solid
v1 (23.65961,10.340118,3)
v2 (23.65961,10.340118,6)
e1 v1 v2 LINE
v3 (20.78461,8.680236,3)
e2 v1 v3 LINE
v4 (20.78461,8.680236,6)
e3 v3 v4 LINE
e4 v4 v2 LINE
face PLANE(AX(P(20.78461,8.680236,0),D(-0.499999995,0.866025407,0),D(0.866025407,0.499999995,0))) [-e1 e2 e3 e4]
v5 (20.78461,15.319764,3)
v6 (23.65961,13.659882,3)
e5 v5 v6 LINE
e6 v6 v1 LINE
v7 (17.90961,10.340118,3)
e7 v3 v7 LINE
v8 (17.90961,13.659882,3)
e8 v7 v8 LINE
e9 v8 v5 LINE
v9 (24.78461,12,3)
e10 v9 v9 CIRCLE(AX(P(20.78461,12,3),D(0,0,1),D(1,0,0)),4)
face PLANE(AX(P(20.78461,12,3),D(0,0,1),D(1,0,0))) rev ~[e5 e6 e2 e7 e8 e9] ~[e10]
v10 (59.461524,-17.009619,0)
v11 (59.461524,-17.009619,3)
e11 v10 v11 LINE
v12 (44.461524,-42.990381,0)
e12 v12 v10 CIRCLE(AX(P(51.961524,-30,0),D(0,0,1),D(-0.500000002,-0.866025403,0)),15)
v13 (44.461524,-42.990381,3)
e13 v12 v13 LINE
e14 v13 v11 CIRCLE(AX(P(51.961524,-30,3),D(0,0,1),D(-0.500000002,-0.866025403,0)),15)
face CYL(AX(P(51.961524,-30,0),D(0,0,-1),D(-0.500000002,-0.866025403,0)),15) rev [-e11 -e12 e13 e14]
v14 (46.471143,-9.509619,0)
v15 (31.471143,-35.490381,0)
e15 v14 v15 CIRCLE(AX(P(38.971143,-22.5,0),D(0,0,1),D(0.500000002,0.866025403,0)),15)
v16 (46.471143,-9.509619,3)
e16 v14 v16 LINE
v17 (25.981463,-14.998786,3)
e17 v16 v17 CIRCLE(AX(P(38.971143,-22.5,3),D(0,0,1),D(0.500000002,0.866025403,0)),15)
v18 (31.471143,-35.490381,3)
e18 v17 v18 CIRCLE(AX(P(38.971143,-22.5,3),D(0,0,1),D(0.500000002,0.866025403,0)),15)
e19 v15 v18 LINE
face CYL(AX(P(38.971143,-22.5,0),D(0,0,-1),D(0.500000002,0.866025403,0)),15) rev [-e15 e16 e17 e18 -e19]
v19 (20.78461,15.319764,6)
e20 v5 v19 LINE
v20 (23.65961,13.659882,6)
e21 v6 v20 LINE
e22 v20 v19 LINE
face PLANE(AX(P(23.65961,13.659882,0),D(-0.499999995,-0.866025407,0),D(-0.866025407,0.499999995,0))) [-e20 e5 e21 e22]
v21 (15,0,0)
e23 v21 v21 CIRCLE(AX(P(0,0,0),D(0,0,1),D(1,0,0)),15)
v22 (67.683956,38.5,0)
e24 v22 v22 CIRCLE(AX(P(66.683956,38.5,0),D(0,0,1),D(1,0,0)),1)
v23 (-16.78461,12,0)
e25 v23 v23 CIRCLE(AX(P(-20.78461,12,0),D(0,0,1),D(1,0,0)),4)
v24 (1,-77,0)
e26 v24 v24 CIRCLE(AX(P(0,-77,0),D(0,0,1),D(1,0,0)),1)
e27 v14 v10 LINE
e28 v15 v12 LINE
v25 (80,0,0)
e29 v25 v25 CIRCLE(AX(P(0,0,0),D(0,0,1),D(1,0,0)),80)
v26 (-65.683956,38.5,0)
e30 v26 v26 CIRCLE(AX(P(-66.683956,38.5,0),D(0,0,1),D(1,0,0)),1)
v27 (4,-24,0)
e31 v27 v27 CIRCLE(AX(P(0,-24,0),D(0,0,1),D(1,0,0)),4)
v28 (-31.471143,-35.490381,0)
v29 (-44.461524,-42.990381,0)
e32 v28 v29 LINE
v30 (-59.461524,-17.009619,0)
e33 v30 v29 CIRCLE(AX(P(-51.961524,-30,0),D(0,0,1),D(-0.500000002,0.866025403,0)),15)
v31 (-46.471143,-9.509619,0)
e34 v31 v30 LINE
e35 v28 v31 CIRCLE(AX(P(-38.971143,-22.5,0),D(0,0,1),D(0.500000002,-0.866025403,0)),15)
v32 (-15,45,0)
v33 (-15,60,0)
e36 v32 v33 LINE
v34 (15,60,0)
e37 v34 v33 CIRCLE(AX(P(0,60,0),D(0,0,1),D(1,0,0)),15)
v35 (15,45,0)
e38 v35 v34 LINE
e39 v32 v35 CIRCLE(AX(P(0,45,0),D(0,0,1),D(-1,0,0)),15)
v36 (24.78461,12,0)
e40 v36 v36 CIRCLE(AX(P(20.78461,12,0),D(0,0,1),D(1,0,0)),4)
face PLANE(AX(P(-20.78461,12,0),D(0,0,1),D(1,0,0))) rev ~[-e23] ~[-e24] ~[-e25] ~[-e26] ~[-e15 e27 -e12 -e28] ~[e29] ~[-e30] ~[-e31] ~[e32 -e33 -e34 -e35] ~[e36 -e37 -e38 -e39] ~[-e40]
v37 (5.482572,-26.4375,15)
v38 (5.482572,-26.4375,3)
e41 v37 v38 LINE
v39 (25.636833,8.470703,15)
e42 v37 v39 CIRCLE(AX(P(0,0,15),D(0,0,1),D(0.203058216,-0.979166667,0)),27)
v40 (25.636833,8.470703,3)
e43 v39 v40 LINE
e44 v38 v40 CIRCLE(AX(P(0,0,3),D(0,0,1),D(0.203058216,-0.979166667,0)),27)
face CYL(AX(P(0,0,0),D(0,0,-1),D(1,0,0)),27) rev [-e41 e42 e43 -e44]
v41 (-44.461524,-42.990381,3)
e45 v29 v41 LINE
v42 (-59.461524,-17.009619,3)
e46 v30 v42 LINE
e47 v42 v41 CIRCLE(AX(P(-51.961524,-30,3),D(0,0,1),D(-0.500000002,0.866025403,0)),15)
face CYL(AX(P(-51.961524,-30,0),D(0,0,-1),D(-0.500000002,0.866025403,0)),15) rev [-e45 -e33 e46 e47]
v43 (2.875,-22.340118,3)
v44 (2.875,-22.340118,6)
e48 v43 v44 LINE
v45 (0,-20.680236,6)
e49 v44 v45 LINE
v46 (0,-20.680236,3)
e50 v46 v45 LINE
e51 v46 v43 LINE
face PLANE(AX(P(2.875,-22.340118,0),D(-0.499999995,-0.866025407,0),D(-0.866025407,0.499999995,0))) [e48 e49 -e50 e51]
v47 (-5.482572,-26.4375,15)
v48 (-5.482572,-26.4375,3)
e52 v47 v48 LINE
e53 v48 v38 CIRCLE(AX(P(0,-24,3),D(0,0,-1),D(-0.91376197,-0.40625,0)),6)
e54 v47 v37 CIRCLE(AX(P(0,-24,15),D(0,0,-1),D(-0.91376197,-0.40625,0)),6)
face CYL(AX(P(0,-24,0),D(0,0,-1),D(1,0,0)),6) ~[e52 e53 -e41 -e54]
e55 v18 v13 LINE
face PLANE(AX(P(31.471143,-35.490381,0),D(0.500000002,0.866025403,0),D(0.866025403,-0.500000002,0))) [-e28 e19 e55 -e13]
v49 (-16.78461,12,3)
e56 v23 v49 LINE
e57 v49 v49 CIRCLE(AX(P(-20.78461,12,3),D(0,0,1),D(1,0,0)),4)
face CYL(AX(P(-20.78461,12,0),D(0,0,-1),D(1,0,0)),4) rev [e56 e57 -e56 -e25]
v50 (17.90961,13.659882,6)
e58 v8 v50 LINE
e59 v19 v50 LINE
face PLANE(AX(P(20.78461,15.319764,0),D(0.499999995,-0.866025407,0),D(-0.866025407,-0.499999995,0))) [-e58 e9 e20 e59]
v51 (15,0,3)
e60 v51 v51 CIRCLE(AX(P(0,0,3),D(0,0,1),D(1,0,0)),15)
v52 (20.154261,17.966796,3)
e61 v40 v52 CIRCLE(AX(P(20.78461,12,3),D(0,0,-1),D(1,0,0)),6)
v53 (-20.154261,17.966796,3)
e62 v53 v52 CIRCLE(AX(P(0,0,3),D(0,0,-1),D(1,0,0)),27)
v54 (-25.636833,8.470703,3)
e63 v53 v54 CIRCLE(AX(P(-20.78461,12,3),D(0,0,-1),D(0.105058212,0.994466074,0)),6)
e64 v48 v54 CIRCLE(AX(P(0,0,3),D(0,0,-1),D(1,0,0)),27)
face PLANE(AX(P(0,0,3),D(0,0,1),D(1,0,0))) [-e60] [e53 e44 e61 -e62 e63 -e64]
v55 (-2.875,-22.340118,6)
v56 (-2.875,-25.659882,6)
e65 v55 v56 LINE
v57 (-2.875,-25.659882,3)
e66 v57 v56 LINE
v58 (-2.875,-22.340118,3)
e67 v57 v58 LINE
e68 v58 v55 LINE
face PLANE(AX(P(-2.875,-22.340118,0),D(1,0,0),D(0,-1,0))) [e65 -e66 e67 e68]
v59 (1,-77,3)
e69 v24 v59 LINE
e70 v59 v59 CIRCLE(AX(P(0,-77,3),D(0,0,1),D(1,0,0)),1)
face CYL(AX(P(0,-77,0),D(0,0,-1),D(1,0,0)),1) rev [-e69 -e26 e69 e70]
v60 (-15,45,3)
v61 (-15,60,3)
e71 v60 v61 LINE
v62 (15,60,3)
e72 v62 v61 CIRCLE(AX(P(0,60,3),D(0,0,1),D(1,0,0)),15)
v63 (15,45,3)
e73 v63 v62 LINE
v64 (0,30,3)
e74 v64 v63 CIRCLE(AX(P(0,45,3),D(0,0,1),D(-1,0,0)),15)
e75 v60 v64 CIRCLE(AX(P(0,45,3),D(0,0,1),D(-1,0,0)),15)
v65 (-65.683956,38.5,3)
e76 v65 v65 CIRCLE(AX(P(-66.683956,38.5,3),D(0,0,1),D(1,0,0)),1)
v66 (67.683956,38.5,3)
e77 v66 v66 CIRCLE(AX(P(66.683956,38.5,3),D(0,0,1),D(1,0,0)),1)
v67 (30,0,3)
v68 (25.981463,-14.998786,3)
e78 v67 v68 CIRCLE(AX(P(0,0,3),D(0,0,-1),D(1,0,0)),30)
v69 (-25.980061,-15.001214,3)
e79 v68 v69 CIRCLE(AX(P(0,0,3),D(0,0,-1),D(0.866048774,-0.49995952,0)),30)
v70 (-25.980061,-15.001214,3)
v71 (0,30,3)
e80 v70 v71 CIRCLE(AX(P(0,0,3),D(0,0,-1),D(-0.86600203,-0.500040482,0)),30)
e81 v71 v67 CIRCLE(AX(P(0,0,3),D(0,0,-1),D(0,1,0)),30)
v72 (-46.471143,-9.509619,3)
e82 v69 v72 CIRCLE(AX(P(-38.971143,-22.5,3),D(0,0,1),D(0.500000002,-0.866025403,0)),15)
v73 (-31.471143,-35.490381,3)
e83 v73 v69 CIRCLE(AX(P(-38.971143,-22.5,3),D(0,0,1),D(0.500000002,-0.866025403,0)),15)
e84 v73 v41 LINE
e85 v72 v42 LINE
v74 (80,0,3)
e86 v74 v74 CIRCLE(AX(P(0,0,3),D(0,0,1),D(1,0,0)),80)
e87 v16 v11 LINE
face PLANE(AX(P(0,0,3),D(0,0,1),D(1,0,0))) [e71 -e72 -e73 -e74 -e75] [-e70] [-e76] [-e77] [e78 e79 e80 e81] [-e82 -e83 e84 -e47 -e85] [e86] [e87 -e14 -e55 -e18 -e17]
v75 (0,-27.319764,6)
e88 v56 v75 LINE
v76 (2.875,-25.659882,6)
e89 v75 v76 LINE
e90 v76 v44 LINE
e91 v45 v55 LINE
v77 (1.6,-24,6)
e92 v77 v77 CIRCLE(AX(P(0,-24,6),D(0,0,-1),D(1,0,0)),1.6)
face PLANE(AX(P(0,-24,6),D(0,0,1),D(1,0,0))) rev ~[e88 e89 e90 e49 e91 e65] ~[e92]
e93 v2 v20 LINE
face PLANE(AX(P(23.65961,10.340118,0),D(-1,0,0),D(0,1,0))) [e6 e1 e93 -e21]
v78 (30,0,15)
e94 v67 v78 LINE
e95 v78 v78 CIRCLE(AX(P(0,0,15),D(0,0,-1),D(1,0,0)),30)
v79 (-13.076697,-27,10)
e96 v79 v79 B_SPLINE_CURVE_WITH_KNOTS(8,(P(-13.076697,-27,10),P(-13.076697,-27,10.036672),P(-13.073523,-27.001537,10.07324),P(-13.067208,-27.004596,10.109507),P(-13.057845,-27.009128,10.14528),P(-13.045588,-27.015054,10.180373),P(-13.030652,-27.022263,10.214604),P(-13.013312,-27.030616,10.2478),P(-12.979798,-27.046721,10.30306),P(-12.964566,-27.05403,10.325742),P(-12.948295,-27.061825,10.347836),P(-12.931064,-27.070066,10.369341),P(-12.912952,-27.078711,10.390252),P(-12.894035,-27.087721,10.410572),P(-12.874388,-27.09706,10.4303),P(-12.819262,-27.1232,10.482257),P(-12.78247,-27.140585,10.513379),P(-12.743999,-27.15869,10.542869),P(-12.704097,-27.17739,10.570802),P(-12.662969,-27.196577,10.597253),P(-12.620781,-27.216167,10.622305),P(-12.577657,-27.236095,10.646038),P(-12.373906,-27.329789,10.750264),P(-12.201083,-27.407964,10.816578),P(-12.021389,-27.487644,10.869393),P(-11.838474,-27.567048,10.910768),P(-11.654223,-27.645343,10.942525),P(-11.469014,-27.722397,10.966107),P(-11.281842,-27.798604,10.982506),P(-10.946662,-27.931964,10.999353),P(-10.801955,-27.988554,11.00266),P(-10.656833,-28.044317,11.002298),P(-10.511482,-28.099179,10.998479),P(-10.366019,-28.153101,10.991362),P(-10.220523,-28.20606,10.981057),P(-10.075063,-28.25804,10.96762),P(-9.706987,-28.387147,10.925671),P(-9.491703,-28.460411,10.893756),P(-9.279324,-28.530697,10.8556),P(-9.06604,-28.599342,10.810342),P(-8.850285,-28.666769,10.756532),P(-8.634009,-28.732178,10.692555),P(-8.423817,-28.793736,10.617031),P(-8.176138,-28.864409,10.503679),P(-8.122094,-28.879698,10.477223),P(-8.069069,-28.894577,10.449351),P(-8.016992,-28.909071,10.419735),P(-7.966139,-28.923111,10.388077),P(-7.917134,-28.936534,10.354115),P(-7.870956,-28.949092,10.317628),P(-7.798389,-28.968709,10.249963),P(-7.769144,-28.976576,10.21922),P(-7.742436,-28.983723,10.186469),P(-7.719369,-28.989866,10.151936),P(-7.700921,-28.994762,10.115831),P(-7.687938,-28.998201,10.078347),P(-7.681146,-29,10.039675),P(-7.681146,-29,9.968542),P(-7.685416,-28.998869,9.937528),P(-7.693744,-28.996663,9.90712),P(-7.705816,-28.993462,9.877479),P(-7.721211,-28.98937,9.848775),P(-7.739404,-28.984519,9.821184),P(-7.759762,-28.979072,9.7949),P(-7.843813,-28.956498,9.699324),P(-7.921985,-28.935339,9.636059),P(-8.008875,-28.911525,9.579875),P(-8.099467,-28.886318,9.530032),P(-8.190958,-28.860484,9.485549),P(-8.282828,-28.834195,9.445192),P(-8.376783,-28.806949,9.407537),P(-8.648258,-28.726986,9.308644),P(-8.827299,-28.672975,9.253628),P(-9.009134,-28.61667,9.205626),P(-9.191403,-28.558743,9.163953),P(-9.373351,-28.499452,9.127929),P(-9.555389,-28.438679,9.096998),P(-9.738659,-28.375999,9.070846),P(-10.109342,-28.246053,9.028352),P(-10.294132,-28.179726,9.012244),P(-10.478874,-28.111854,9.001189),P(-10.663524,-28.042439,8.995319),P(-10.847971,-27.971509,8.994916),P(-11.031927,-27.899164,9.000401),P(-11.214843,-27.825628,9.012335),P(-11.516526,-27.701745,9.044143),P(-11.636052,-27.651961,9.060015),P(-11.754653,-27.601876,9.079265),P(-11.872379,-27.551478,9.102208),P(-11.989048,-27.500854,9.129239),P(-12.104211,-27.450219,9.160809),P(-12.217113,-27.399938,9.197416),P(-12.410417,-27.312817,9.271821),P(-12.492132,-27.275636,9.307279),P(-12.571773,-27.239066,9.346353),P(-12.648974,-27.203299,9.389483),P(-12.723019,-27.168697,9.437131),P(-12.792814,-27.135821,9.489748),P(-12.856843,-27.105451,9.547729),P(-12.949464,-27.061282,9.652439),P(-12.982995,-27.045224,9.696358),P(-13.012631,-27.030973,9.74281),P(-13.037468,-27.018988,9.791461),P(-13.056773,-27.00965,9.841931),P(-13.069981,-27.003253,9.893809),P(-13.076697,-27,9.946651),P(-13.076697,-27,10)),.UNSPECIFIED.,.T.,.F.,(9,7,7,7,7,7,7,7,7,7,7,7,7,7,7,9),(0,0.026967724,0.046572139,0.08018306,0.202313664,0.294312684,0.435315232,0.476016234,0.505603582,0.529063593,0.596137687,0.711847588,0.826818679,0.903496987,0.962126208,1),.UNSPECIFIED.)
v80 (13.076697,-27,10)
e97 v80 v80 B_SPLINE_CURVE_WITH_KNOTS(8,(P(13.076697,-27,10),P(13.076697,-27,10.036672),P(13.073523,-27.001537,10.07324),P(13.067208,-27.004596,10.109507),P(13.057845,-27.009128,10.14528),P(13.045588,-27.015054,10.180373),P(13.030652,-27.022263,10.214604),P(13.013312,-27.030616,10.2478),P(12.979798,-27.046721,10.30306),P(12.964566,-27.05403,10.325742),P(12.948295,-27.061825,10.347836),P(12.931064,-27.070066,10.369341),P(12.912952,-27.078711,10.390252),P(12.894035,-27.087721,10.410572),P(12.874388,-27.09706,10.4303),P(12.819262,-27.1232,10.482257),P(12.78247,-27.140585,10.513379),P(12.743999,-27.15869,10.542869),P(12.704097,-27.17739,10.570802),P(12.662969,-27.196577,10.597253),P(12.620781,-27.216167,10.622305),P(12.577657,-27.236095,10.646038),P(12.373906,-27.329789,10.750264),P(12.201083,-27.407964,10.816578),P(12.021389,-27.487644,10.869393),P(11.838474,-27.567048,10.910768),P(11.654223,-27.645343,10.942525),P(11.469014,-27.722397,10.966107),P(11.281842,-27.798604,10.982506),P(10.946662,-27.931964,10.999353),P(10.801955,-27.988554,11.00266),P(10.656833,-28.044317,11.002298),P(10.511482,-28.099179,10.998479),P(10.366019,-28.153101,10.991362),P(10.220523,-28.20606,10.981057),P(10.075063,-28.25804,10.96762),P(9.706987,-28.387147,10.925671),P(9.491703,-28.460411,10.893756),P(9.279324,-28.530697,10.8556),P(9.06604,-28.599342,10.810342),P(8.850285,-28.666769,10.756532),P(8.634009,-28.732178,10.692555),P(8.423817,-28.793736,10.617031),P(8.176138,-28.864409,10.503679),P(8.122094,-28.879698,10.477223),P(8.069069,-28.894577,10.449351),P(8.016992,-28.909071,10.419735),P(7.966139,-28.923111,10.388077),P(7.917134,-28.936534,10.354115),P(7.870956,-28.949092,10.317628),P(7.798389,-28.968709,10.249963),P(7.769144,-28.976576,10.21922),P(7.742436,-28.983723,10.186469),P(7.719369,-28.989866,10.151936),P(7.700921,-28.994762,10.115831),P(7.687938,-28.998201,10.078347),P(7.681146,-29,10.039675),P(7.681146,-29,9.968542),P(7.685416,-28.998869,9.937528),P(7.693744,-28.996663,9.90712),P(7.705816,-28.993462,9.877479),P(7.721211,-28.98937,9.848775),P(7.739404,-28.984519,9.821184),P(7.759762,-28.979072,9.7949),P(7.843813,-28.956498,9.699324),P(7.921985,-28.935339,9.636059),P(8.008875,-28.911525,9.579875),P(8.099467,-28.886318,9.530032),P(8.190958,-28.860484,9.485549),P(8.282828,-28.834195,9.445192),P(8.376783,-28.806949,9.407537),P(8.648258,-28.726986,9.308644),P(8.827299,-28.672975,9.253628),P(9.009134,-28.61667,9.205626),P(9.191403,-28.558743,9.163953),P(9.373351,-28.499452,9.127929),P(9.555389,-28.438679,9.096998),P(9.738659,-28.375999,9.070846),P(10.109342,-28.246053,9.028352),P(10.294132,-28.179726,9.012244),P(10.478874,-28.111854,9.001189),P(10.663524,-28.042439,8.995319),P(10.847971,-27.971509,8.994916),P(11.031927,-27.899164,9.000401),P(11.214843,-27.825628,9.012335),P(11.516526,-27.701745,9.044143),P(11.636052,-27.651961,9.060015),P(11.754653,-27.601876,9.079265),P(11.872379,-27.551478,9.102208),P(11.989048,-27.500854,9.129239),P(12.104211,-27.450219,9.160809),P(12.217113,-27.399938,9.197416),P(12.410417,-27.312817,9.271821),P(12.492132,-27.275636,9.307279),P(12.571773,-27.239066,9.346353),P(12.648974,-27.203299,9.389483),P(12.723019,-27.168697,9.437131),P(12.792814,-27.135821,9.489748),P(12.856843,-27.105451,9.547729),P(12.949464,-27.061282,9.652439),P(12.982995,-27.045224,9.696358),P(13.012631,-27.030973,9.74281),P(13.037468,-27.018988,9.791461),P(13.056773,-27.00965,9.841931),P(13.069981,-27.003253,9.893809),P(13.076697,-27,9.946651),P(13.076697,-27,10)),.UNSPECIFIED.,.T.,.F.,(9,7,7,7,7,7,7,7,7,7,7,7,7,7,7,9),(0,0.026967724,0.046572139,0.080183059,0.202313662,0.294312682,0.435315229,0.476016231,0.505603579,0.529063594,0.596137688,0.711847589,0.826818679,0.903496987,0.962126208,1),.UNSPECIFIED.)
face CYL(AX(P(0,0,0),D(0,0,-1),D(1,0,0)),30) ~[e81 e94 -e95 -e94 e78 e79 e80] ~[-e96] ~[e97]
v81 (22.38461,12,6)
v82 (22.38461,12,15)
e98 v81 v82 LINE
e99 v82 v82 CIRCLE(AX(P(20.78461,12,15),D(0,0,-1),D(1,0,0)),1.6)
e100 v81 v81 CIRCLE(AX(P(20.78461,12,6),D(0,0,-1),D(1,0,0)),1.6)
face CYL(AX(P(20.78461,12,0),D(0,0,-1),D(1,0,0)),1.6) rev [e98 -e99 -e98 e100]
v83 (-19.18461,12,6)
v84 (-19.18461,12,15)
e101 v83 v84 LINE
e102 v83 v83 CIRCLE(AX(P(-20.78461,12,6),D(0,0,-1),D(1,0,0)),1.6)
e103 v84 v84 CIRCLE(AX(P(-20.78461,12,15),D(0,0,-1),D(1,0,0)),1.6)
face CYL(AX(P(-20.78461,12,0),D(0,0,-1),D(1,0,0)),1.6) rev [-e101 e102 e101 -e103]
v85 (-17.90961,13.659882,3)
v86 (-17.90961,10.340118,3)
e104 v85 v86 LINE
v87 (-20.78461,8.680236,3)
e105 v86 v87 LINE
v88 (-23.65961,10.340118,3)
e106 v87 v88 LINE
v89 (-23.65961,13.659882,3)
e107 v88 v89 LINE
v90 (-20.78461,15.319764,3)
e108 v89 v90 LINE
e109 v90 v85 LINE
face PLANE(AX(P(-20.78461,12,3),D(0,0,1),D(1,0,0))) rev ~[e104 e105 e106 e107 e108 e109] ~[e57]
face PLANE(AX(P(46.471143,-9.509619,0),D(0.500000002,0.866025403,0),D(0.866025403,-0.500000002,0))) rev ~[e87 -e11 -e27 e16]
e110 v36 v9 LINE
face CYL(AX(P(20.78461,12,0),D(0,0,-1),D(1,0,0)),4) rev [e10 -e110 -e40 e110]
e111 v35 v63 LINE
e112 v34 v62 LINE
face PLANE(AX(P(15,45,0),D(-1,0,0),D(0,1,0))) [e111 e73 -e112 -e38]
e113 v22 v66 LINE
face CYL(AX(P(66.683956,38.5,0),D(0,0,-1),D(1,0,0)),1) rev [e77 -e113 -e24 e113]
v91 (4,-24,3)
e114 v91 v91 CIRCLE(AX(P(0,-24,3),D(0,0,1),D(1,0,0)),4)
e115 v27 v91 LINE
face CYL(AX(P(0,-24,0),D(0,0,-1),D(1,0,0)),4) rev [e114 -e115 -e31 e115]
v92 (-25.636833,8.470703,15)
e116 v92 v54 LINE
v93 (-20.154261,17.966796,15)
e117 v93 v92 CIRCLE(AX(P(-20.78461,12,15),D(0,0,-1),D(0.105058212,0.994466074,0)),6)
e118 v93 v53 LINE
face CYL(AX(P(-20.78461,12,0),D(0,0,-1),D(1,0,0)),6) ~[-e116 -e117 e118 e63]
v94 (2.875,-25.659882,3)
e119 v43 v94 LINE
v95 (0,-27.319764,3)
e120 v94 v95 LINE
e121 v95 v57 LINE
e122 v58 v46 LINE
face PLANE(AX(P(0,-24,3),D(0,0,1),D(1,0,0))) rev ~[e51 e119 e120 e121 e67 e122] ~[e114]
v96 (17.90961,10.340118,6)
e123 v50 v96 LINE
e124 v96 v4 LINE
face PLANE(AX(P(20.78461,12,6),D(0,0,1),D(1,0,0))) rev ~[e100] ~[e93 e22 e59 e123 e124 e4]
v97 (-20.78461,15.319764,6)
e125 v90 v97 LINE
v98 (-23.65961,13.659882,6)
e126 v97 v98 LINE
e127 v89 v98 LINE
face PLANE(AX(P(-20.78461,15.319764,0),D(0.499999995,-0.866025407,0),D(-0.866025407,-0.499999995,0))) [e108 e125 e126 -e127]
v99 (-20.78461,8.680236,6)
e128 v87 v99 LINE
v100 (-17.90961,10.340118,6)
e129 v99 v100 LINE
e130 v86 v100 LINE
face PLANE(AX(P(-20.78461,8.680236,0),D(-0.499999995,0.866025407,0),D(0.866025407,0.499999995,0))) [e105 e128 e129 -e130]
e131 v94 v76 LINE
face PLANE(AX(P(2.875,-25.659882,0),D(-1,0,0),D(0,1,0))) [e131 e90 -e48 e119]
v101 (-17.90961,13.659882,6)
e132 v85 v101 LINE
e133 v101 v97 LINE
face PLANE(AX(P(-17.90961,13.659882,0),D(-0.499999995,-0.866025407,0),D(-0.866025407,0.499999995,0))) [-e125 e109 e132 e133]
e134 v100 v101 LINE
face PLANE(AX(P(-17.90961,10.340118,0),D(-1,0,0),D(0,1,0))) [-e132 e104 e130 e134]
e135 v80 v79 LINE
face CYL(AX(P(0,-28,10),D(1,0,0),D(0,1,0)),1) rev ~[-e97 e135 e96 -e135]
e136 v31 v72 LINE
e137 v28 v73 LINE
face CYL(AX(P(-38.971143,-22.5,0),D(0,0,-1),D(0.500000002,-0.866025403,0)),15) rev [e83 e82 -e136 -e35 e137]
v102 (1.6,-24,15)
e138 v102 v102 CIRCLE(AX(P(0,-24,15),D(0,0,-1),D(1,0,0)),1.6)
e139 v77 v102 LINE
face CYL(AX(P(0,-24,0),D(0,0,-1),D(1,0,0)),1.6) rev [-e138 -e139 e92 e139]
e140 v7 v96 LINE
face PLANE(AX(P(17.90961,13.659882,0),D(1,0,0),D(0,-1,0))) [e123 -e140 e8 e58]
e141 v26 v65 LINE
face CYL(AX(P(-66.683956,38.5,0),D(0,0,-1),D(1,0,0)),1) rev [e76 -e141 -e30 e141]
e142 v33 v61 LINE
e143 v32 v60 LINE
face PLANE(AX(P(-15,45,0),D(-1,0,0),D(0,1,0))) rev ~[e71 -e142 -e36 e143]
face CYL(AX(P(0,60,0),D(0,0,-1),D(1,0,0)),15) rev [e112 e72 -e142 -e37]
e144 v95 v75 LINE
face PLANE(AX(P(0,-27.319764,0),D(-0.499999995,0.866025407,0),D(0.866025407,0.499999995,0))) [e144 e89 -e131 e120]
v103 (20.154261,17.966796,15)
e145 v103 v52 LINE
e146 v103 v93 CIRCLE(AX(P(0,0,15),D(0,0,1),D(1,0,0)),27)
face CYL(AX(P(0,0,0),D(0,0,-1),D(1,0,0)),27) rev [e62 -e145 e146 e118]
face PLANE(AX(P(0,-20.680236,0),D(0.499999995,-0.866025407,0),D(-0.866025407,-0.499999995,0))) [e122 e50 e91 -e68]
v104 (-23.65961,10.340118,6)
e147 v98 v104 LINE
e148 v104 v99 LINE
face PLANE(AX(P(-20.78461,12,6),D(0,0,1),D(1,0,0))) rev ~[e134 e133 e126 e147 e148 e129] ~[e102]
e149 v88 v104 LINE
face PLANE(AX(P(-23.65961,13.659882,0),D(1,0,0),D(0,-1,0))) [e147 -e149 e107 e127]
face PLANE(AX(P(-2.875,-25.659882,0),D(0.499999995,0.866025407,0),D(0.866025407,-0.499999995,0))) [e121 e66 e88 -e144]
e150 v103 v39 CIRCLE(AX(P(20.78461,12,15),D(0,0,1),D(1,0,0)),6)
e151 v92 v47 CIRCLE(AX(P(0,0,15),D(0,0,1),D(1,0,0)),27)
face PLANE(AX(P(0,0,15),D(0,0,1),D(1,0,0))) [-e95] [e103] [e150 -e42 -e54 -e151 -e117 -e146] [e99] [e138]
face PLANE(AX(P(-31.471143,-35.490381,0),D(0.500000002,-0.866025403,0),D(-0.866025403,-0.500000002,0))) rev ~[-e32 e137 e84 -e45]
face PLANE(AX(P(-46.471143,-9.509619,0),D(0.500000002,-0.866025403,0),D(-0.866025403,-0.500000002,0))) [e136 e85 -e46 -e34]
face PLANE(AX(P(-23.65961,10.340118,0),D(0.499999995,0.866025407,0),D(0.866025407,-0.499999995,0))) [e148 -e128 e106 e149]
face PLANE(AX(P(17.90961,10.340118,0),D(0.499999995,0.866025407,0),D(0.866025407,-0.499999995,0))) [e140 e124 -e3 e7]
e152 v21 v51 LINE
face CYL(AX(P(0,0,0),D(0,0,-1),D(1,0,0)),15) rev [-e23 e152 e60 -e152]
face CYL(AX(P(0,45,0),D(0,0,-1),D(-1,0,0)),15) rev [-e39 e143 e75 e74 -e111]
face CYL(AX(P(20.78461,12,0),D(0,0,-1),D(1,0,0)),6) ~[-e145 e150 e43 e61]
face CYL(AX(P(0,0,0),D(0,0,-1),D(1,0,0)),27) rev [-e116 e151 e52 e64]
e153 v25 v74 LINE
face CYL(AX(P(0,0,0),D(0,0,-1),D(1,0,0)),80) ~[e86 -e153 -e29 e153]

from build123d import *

# Parameters (mm, degrees)
SKETCH_R             = 80
SKETCH_R_2           = 15
SKETCH_R_3           = 1
PAD_DEPTH            = 3
SKETCH001_R          = 30
SKETCH001_R_2        = 27
PAD001_DEPTH         = 15
SKETCH002_R          = 6
PAD002_DEPTH         = 15
SKETCH004_R          = 1.6
POCKET_DEPTH         = 15.001
SKETCH003_R          = 4
POCKET001_DEPTH      = 3
SKETCH005_R          = 1
POCKET002_DEPTH      = 80.001
POCKET002_DEPTH_BACK = -80.001
POCKET003_DEPTH      = 6


with BuildPart() as part:
    # Sketch → Pad (new body)
    with BuildSketch(Plane.XY):
        Circle(SKETCH_R)
        Circle(SKETCH_R_2, mode=Mode.SUBTRACT)
        with Locations((-66.683956, 38.5)):
            Circle(SKETCH_R_3, mode=Mode.SUBTRACT)
        with Locations((66.683956, 38.5)):
            Circle(SKETCH_R_3, mode=Mode.SUBTRACT)
        with Locations((0, -77)):
            Circle(SKETCH_R_3, mode=Mode.SUBTRACT)
        with BuildLine():
            ThreePointArc((-15, 45), (0, 30), (15, 45))
            Line((15, 45), (15, 60))
            ThreePointArc((15, 60), (0, 75), (-15, 60))
            Line((-15, 45), (-15, 60))
        make_face(mode=Mode.SUBTRACT)
        with BuildLine():
            ThreePointArc((-31.471143, -35.490381), (-25.980762, -15), (-46.471143, -9.509619))
            Line((-46.471143, -9.509619), (-59.461524, -17.009619))
            ThreePointArc((-59.461524, -17.009619), (-64.951905, -37.5), (-44.461524, -42.990381))
            Line((-31.471143, -35.490381), (-44.461524, -42.990381))
        make_face(mode=Mode.SUBTRACT)
        with BuildLine():
            ThreePointArc((46.471143, -9.509619), (25.980762, -15), (31.471143, -35.490381))
            Line((31.471143, -35.490381), (44.461524, -42.990381))
            ThreePointArc((44.461524, -42.990381), (64.951905, -37.5), (59.461524, -17.009619))
            Line((46.471143, -9.509619), (59.461524, -17.009619))
        make_face(mode=Mode.SUBTRACT)
    extrude(amount=PAD_DEPTH)

    # Sketch001 → Pad001 (join)
    with BuildSketch(Plane.XY):
        Circle(SKETCH001_R)
        Circle(SKETCH001_R_2, mode=Mode.SUBTRACT)
    extrude(amount=PAD001_DEPTH)

    # Sketch002 → Pad002 (join)
    with BuildSketch(Plane.XY):
        with Locations((-20.78461, 12)):
            Circle(SKETCH002_R)
        with Locations((0, -24)):
            Circle(SKETCH002_R)
        with Locations((20.78461, 12)):
            Circle(SKETCH002_R)
    extrude(amount=PAD002_DEPTH)

    # Sketch004 → Pocket (cut, through all)
    with BuildSketch(Plane.XY):
        with Locations((-20.78461, 12)):
            Circle(SKETCH004_R)
        with Locations((20.78461, 12)):
            Circle(SKETCH004_R)
        with Locations((0, -24)):
            Circle(SKETCH004_R)
    extrude(amount=POCKET_DEPTH, mode=Mode.SUBTRACT)

    # Sketch003 → Pocket001 (cut)
    with BuildSketch(Plane.XY):
        with Locations((-20.78461, 12)):
            Circle(SKETCH003_R)
        with Locations((20.78461, 12)):
            Circle(SKETCH003_R)
        with Locations((0, -24)):
            Circle(SKETCH003_R)
    extrude(amount=POCKET001_DEPTH, mode=Mode.SUBTRACT)

    # Sketch005 → Pocket002 (cut, two sides)
    with BuildSketch(Plane.YZ) as pocket002_sk:
        with Locations((-28, 10)):
            Circle(SKETCH005_R)
    extrude(amount=-POCKET002_DEPTH, mode=Mode.SUBTRACT)
    extrude(pocket002_sk.sketch, amount=-POCKET002_DEPTH_BACK, mode=Mode.SUBTRACT)

    # Sketch006 → Pocket003 (cut)
    with BuildSketch(Plane.XY):
        Polygon((-17.90961, 10.340118), (-17.90961, 13.659882), (-20.78461, 15.319764), (-23.65961, 13.659882), (-23.65961, 10.340118), (-20.78461, 8.680236), align=None)
        Polygon((20.78461, 8.680236), (23.65961, 10.340118), (23.65961, 13.659882), (20.78461, 15.319764), (17.90961, 13.659882), (17.90961, 10.340118), align=None)
        Polygon((2.875, -25.659882), (2.875, -22.340118), (0, -20.680236), (-2.875, -22.340118), (-2.875, -25.659882), (0, -27.319764), align=None)
    extrude(amount=POCKET003_DEPTH, mode=Mode.SUBTRACT)


solid = part.part
